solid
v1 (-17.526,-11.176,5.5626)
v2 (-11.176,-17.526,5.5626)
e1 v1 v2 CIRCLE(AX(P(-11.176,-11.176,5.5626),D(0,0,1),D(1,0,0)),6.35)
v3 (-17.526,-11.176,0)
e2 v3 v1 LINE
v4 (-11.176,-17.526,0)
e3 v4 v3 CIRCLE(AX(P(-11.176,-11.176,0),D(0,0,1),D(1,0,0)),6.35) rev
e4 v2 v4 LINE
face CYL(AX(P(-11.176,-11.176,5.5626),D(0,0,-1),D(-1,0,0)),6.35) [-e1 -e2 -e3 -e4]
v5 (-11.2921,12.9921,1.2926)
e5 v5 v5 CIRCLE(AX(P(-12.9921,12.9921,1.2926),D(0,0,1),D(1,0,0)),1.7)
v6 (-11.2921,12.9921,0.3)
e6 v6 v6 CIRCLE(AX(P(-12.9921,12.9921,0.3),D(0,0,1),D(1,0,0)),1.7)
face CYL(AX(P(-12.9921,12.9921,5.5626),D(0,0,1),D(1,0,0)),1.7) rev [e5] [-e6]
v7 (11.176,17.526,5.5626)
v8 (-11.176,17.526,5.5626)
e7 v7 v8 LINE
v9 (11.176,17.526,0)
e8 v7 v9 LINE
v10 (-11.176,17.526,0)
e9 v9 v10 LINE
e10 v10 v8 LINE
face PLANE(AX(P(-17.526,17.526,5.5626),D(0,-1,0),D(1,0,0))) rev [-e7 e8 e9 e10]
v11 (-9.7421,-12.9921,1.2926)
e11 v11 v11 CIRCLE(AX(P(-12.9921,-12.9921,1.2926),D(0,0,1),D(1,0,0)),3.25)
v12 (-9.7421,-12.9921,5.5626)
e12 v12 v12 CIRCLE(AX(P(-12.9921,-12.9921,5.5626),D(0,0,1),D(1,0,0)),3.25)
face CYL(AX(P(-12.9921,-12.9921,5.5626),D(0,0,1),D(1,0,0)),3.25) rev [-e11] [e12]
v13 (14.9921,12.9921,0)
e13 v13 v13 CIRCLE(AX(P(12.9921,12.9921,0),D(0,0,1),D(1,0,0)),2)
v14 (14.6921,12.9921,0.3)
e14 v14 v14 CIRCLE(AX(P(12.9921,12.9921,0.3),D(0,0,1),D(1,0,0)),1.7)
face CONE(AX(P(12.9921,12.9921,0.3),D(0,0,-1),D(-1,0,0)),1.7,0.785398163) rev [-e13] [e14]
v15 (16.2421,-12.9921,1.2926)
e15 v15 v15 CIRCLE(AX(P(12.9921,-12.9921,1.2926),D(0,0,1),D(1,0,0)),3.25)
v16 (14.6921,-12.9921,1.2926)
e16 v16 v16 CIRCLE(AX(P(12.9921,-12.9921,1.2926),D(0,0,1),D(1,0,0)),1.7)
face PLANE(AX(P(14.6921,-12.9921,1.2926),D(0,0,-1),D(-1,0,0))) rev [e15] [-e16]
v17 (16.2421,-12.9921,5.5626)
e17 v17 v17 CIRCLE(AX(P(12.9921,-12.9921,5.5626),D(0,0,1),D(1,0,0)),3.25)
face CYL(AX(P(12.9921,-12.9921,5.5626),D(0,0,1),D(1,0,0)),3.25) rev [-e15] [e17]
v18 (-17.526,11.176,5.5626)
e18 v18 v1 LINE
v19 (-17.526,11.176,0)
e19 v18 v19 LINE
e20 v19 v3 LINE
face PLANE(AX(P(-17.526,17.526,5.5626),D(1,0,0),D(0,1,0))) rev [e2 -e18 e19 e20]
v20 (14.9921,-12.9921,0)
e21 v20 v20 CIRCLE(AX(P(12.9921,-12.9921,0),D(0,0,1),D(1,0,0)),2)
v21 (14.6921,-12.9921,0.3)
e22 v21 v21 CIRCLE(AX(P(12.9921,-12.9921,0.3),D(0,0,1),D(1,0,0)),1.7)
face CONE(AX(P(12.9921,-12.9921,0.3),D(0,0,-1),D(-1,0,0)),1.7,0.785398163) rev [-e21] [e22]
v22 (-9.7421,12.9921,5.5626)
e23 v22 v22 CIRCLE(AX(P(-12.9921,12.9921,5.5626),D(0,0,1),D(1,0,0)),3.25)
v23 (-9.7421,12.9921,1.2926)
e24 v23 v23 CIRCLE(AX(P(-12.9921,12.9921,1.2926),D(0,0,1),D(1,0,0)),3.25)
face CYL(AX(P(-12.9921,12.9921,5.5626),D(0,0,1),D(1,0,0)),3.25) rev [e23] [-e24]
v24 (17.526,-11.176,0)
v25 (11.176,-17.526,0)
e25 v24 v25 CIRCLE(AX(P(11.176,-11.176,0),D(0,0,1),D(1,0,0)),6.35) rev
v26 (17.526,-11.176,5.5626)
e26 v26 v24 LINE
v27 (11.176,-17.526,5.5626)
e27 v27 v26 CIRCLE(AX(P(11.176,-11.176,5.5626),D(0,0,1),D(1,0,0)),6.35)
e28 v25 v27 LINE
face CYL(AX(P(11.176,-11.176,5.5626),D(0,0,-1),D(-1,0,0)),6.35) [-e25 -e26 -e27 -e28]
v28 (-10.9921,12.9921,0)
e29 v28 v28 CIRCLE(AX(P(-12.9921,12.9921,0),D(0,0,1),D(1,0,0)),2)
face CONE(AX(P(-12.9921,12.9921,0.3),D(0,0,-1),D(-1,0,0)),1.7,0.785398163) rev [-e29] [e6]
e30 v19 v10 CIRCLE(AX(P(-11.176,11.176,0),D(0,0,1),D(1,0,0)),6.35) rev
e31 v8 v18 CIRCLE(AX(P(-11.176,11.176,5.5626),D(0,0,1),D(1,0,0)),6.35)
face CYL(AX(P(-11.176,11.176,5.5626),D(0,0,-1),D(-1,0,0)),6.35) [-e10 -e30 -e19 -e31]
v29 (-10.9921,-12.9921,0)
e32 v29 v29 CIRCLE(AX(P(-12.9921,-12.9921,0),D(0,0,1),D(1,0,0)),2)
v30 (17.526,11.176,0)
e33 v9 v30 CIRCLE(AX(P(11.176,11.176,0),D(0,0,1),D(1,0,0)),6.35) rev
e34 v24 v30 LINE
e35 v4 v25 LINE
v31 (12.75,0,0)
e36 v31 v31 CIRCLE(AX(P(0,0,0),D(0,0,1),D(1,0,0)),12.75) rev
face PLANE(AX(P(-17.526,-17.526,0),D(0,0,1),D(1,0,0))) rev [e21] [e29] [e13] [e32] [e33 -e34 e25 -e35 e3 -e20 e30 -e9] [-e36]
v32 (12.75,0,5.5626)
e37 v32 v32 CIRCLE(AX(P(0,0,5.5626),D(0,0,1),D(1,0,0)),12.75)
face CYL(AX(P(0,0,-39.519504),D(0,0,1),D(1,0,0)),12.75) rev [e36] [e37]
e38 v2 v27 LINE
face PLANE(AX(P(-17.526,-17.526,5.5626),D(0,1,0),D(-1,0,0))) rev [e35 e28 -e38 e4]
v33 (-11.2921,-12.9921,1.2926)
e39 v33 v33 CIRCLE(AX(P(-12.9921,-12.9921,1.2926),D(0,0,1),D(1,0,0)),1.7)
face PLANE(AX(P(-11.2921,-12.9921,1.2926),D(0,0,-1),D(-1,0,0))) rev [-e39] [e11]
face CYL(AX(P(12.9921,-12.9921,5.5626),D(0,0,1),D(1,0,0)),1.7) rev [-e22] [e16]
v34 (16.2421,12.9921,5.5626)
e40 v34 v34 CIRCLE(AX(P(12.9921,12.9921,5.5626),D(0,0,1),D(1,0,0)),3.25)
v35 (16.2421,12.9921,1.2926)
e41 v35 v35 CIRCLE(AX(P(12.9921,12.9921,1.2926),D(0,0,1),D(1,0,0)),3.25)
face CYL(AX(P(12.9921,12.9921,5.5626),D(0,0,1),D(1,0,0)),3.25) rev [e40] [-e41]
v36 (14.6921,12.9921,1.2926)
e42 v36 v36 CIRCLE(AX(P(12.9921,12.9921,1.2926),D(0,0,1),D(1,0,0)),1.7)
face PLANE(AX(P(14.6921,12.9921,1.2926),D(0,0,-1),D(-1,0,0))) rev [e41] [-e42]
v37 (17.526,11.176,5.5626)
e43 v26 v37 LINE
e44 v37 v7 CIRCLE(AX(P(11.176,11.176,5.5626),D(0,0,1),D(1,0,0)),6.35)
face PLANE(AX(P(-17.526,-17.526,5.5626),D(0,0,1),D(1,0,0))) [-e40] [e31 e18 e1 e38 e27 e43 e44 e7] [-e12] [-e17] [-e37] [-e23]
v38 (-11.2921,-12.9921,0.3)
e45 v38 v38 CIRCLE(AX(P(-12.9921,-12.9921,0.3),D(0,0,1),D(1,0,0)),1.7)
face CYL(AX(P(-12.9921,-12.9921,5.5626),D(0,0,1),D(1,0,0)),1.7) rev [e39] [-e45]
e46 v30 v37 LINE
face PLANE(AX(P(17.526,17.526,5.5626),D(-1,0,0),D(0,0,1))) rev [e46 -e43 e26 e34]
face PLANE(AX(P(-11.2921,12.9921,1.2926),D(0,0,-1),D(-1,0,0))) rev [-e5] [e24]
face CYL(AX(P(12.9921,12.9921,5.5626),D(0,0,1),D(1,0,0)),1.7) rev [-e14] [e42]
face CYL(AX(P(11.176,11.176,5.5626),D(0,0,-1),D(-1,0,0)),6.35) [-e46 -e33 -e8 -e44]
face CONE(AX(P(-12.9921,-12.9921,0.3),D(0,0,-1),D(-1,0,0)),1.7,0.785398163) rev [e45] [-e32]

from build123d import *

# Parameters (mm, degrees)
SKETCH1_W                     = 35.052
SKETCH1_H                     = 35.052
BOSS_EXTRUDE1_DEPTH           = 5.5626
CBORE_FOR_M3_SHCS3_AT_2_COUNT = 2
CBORE_FOR_M3_SHCS3_AT_2_PITCH = 25.9842
CBORE_FOR_M3_SHCS3_AT_3_COUNT = 2
CBORE_FOR_M3_SHCS3_AT_3_PITCH = 36.747208047
CBORE_FOR_M3_SHCS3_AT_4_COUNT = 2
CBORE_FOR_M3_SHCS3_AT_4_PITCH = 25.9842
FILLET1_R                     = 6.35
CUT_EXTRUDE1_REACH            = 27.402
SKETCH4_R                     = 12.9032
CHAMFER1_SIZE                 = 0.762
CUT_EXTRUDE3_DEPTH            = 0.127
BOSS_EXTRUDE2_REACH           = 27.402
SKETCH10_R                    = 15
SKETCH10_R_2                  = 13.1
SKETCH13_W                    = 13.172247564
SKETCH13_H                    = 4
BOSS_EXTRUDE3_DEPTH           = 0.127
SKETCH14_R                    = 13.97225464
SKETCH14_R_2                  = 12.75
BOSS_EXTRUDE4_DEPTH           = 5.5626


with BuildPart() as part:
    # Sketch1 → Boss-Extrude1 (new body)
    with BuildSketch(Plane.XY):
        Rectangle(SKETCH1_W, SKETCH1_H)
    extrude(amount=BOSS_EXTRUDE1_DEPTH)

    # Sketch2 → CBORE for M3 SHCS3 (revolve, cut)
    with BuildSketch(Plane(origin=(-12.9921, 12.9921, 5.5626), x_dir=(0, -1, 0), z_dir=(1, 0, 0))):
        Polygon((0, 0), (0, 5.5626), (2, 5.5626), (1.7, 5.2626), (1.7, 4.27), (3.25, 4.27), (3.25, 0), align=None)
    cbore_for_m3_shcs3 = revolve(axis=Axis((-12.9921, 12.9921, 11.9126), (0, 0, -1)), mode=Mode.SUBTRACT)

    # CBORE for M3 SHCS3 at 2: CBORE for M3 SHCS3 ×2
    with Locations(*[(i * CBORE_FOR_M3_SHCS3_AT_2_PITCH, 0, 0) for i in range(1, CBORE_FOR_M3_SHCS3_AT_2_COUNT)]):
        add(cbore_for_m3_shcs3, mode=Mode.SUBTRACT)

    # CBORE for M3 SHCS3 at 3: CBORE for M3 SHCS3 ×2
    with Locations(*[Vector(0.7071067811865477, -0.7071067811865475, 0) * (i * CBORE_FOR_M3_SHCS3_AT_3_PITCH) for i in range(1, CBORE_FOR_M3_SHCS3_AT_3_COUNT)]):
        add(cbore_for_m3_shcs3, mode=Mode.SUBTRACT)

    # CBORE for M3 SHCS3 at 4: CBORE for M3 SHCS3 ×2
    with Locations(*[(0, -i * CBORE_FOR_M3_SHCS3_AT_4_PITCH, 0) for i in range(1, CBORE_FOR_M3_SHCS3_AT_4_COUNT)]):
        add(cbore_for_m3_shcs3, mode=Mode.SUBTRACT)

    # Fillet1
    fillet1_edges = [part.edges().sort_by_distance(p)[0] for p in [
        (-17.526, 17.526, 2.7813),
        (17.526, 17.526, 2.7813),
        (17.526, -17.526, 2.7813),
        (-17.526, -17.526, 2.7813),
    ]]
    fillet(fillet1_edges, radius=FILLET1_R)

    # Sketch4 → Cut-Extrude1 (cut, up to next)
    with BuildSketch(Plane.XY.offset(5.5626), mode=Mode.PRIVATE) as cut_extrude1_sk1:
        Circle(SKETCH4_R)
    cut_extrude1_tool1 = extrude(cut_extrude1_sk1.sketch, amount=-CUT_EXTRUDE1_REACH, mode=Mode.PRIVATE) & part.part
    add(cut_extrude1_tool1.solids().sort_by_distance((0, 0, 5.5626))[0], mode=Mode.SUBTRACT)

    # Chamfer1
    chamfer1_edges = [part.edges().sort_by_distance(p)[0] for p in [
        (-12.9032, 0, 5.5626),
        (-12.9032, 0, 0),
    ]]
    chamfer(chamfer1_edges, length=CHAMFER1_SIZE)

    # Sketch9 → Cut-Extrude3 (cut)
    # profile 1 of 6: a face of its own
    with BuildSketch(Plane.XY.offset(5.5626)):
        with BuildLine():
            Line((-6.112186903, -15.961583026), (-5.786207993, -15.961583026))
            add(Edge.make_bspline(
                [(-5.786207993, -15.961583026), (-5.782622414, -15.99085145), (-5.775734324, -16.047077667), (-5.756474536, -16.126769867), (-5.731685946, -16.198421333), (-5.700800047, -16.262983007), (-5.660170823, -16.319680798), (-5.611219596, -16.37082134), (-5.551770996, -16.415105953), (-5.484667078, -16.454516356), (-5.409932041, -16.485459756), (-5.330145724, -16.508398608), (-5.245688637, -16.521990061), (-5.187857622, -16.523742621), (-5.158328161, -16.524637507)],
                knots=[0, 0, 0, 0, 1.125557648, 2.162256852, 3.1243583, 4.018160113, 4.88511607, 5.777380551, 6.711250965, 7.707237736, 8.743031335, 9.791730543, 10.872421559, 12, 12, 12, 12], degree=3))
            add(Edge.make_bspline(
                [(-5.158328161, -16.524637507), (-5.132197131, -16.524153849), (-5.081246683, -16.523210811), (-5.007541166, -16.511882582), (-4.938184059, -16.495813793), (-4.874466172, -16.471507235), (-4.816622554, -16.441991452), (-4.766391851, -16.40629142), (-4.72350755, -16.36603159), (-4.689926033, -16.320151542), (-4.663545064, -16.272076924), (-4.644191896, -16.222661174), (-4.63266361, -16.172178574), (-4.631194607, -16.138211278), (-4.630464585, -16.121331214)],
                knots=[0, 0, 0, 0, 1.267006637, 2.470417599, 3.611360613, 4.716023143, 5.771382139, 6.754486395, 7.697536124, 8.612899418, 9.501261124, 10.352596716, 11.181322154, 12, 12, 12, 12], degree=3))
            add(Edge.make_bspline(
                [(-4.630464585, -16.121331214), (-4.631244992, -16.104622135), (-4.632770296, -16.071964264), (-4.642710283, -16.024418484), (-4.661602631, -15.980900285), (-4.686117624, -15.939633457), (-4.720222165, -15.901903883), (-4.763309404, -15.867139446), (-4.816328661, -15.835621671), (-4.855899559, -15.8183607), (-4.87680092, -15.80924345)],
                knots=[0, 0, 0, 0, 0.942140154, 1.841411588, 2.718743672, 3.605002079, 4.535543111, 5.568170452, 6.715506882, 8, 8, 8, 8], degree=3))
            add(Edge.make_bspline(
                [(-4.87680092, -15.80924345), (-4.8849444, -15.805901635), (-4.903341999, -15.798351868), (-4.93487462, -15.788357275), (-4.972292069, -15.775433247), (-5.01649327, -15.762123602), (-5.067241593, -15.748043859), (-5.124452548, -15.732107725), (-5.188094167, -15.715160518), (-5.256361463, -15.697122062), (-5.325290629, -15.678779719), (-5.391144395, -15.660420199), (-5.45173299, -15.641782934), (-5.507552716, -15.623837821), (-5.558315799, -15.605818672), (-5.604166314, -15.588218813), (-5.645161427, -15.571395321), (-5.670199682, -15.559025266), (-5.682024393, -15.553183312)],
                knots=[0, 0, 0, 0, 0.499201778, 1.127787504, 1.87543728, 2.745208432, 3.745951656, 4.863402235, 6.114490242, 7.482339553, 8.869366102, 10.161191451, 11.360587006, 12.46547846, 13.487450326, 14.41601931, 15.251940103, 16, 16, 16, 16], degree=3))
            add(Edge.make_bspline(
                [(-5.682024393, -15.553183312), (-5.709229755, -15.538486192), (-5.761743184, -15.510116925), (-5.832420443, -15.459392596), (-5.891973209, -15.403104565), (-5.94015024, -15.341334451), (-5.977904694, -15.275126936), (-6.003377459, -15.204369466), (-6.0208242, -15.130346422), (-6.022454643, -15.079443973), (-6.023283564, -15.053565068)],
                knots=[0, 0, 0, 0, 1.158441928, 2.236094408, 3.251151369, 4.220012324, 5.163146324, 6.095083285, 7.031536583, 8, 8, 8, 8], degree=3))
            add(Edge.make_bspline(
                [(-6.023283564, -15.053565068), (-6.022183421, -15.024908552), (-6.019995246, -14.967910949), (-6.000584929, -14.88427052), (-5.969625101, -14.803786179), (-5.934383416, -14.739888481), (-5.900014984, -14.691569327), (-5.871523293, -14.656770756), (-5.839564289, -14.624604156), (-5.805122199, -14.594620501), (-5.767581334, -14.567267784), (-5.727873088, -14.541421841), (-5.684560244, -14.519206633), (-5.623699257, -14.490931687), (-5.542281921, -14.462696509), (-5.439787678, -14.438093134), (-5.331915853, -14.423604717), (-5.258387882, -14.421610321), (-5.220838321, -14.420591815)],
                knots=[0, 0, 0, 0, 1.199927478, 2.386647047, 3.578628709, 4.806592355, 5.433127754, 6.062729195, 6.689531802, 7.331674828, 7.974827539, 8.635320743, 9.315455226, 10.01318112, 11.447700238, 12.918145351, 14.426146008, 16, 16, 16, 16], degree=3))
            add(Edge.make_bspline(
                [(-5.220838321, -14.420591815), (-5.179737832, -14.42153357), (-5.099707261, -14.423367348), (-4.98342058, -14.43862405), (-4.87495694, -14.464823821), (-4.789896032, -14.494151836), (-4.727011498, -14.523842472), (-4.682336574, -14.547009774), (-4.64086941, -14.573795396), (-4.602236719, -14.602781628), (-4.566079654, -14.633955234), (-4.533327533, -14.668057731), (-4.502558169, -14.703925603), (-4.466399878, -14.755420628), (-4.427413575, -14.823574004), (-4.393704609, -14.911869408), (-4.370546156, -15.005057959), (-4.366041305, -15.069481589), (-4.363754568, -15.102184082)],
                knots=[0, 0, 0, 0, 1.607600973, 3.130308851, 4.577334065, 5.967726088, 6.640410691, 7.296826776, 7.935019992, 8.569057421, 9.185393759, 9.8003086, 10.417295362, 11.032210203, 12.259799365, 13.477607022, 14.719591916, 16, 16, 16, 16], degree=3))
            Line((-4.363754568, -15.102184082), (-4.689733478, -15.102184082))
            add(Edge.make_bspline(
                [(-4.689733478, -15.102184082), (-4.6918047, -15.085632394), (-4.695857467, -15.053245647), (-4.705911845, -15.006360958), (-4.72000606, -14.962816568), (-4.736514706, -14.922206398), (-4.75652664, -14.884952836), (-4.779854764, -14.850698168), (-4.806783166, -14.819845972), (-4.83661895, -14.791581015), (-4.870270012, -14.766970127), (-4.907563443, -14.74560712), (-4.948562196, -14.727560272), (-4.993230151, -14.712779314), (-5.04157615, -14.701318738), (-5.093710159, -14.692888119), (-5.149612026, -14.688570422), (-5.18811077, -14.687732144), (-5.207873251, -14.687301832)],
                knots=[0, 0, 0, 0, 1.074487479, 2.102453544, 3.083708351, 4.020042547, 4.923259678, 5.803182661, 6.684453325, 7.556870173, 8.445961597, 9.363679789, 10.320905216, 11.327237703, 12.390948353, 13.519046902, 14.726457512, 16, 16, 16, 16], degree=3))
            add(Edge.make_bspline(
                [(-5.207873251, -14.687301832), (-5.228415428, -14.68745667), (-5.268180029, -14.687756396), (-5.325664271, -14.693220041), (-5.378944733, -14.700716355), (-5.427929899, -14.711774056), (-5.472459302, -14.726248623), (-5.513193821, -14.742963427), (-5.548993457, -14.764145449), (-5.580692763, -14.787739467), (-5.608037428, -14.813844944), (-5.63160448, -14.841353805), (-5.652447716, -14.86945782), (-5.668643371, -14.899693173), (-5.681829068, -14.930914805), (-5.690335291, -14.963709581), (-5.696357896, -14.997470882), (-5.696984707, -15.020506895), (-5.697304654, -15.03226531)],
                knots=[0, 0, 0, 0, 1.464176581, 2.834285765, 4.113735764, 5.29917439, 6.409476712, 7.449999357, 8.431575861, 9.367089851, 10.262376129, 11.120706676, 11.948504824, 12.751342953, 13.560717798, 14.359016663, 15.162382702, 16, 16, 16, 16], degree=3))
            add(Edge.make_bspline(
                [(-5.697304654, -15.03226531), (-5.696462248, -15.052152326), (-5.694827215, -15.090751192), (-5.678131139, -15.145588544), (-5.652452458, -15.195576344), (-5.627154866, -15.222774451), (-5.614420812, -15.236465167)],
                knots=[0, 0, 0, 0, 1.050964922, 2.039826012, 3.013306874, 4, 4, 4, 4], degree=3))
            add(Edge.make_bspline(
                [(-5.614420812, -15.236465167), (-5.6063934, -15.243307131), (-5.588641275, -15.258437714), (-5.55561071, -15.278461268), (-5.514657707, -15.298692517), (-5.465508627, -15.318803945), (-5.40824803, -15.339039702), (-5.342968281, -15.359874901), (-5.269420736, -15.38056815), (-5.189846754, -15.400509519), (-5.109458477, -15.420531053), (-5.033062589, -15.44047628), (-4.962918232, -15.459378867), (-4.899136695, -15.477815243), (-4.841651963, -15.495733279), (-4.790663816, -15.513508379), (-4.745759741, -15.529856963), (-4.718250689, -15.541359526), (-4.705476777, -15.546700777)],
                knots=[0, 0, 0, 0, 0.523891492, 1.158553688, 1.913783773, 2.794766643, 3.797521443, 4.933638669, 6.202080764, 7.596537849, 9.013317056, 10.322179469, 11.523240428, 12.626146501, 13.623953177, 14.517289671, 15.311498917, 16, 16, 16, 16], degree=3))
            add(Edge.make_bspline(
                [(-4.705476777, -15.546700777), (-4.688857269, -15.554363437), (-4.65623596, -15.569403956), (-4.610023508, -15.595083378), (-4.566902276, -15.621750076), (-4.527220656, -15.650122007), (-4.491106957, -15.68025885), (-4.458157386, -15.711815304), (-4.428172939, -15.744614016), (-4.402363485, -15.779704736), (-4.379189244, -15.815668939), (-4.35891024, -15.853009271), (-4.342581975, -15.891945323), (-4.328261069, -15.932007757), (-4.317960229, -15.973642185), (-4.309882294, -16.01642807), (-4.305170569, -16.060566519), (-4.304715946, -16.090451045), (-4.304485675, -16.105587914)],
                knots=[0, 0, 0, 0, 1.198900896, 2.353241543, 3.461831299, 4.520043694, 5.547003373, 6.541368882, 7.508191797, 8.454912692, 9.392021408, 10.310662301, 11.235020644, 12.156274873, 13.095836685, 14.042125239, 15.00831306, 16, 16, 16, 16], degree=3))
            add(Edge.make_bspline(
                [(-4.304485675, -16.105587914), (-4.305691996, -16.135796991), (-4.308086945, -16.195772049), (-4.328708315, -16.284178059), (-4.361103397, -16.369842989), (-4.399094656, -16.437822829), (-4.435007878, -16.489749548), (-4.465176678, -16.527072101), (-4.498632143, -16.561582488), (-4.534550634, -16.594361855), (-4.573211023, -16.624741395), (-4.614939241, -16.652731454), (-4.659294867, -16.678623404), (-4.722633585, -16.710174262), (-4.806757926, -16.743179456), (-4.913915448, -16.770665063), (-5.026846497, -16.788495656), (-5.104391927, -16.790383764), (-5.143973976, -16.791347524)],
                knots=[0, 0, 0, 0, 1.197055466, 2.376552968, 3.581957237, 4.820753935, 5.454298064, 6.085440993, 6.72202542, 7.359198513, 8.013298489, 8.67051481, 9.351020706, 10.049282741, 11.476266879, 12.925760103, 14.430794493, 16, 16, 16, 16], degree=3))
            add(Edge.make_bspline(
                [(-5.143973976, -16.791347524), (-5.169141064, -16.791139834), (-5.218439795, -16.790732998), (-5.290878774, -16.785806091), (-5.360298372, -16.778679077), (-5.426630463, -16.76806331), (-5.489667035, -16.754136), (-5.549634362, -16.737411993), (-5.606674584, -16.718150851), (-5.660588399, -16.695500082), (-5.71123507, -16.669182362), (-5.759525276, -16.640792202), (-5.804669681, -16.608610624), (-5.84676332, -16.573143314), (-5.886872755, -16.53541489), (-5.923335571, -16.493884555), (-5.95739141, -16.449766805), (-5.988262105, -16.402657858), (-6.015840371, -16.353174055), (-6.04064109, -16.302146423), (-6.061536042, -16.249204796), (-6.078375386, -16.19461674), (-6.092639162, -16.138747559), (-6.102530761, -16.081131123), (-6.109803398, -16.021948325), (-6.111387709, -15.981823645), (-6.112186903, -15.961583026)],
                knots=[0, 0, 0, 0, 1.259822038, 2.467811403, 3.633536148, 4.752793854, 5.829021491, 6.863980041, 7.868367876, 8.841470325, 9.788447787, 10.724101269, 11.643985084, 12.560193707, 13.478453146, 14.398077254, 15.323914234, 16.266973849, 17.21495974, 18.158525798, 19.105629373, 20.061269543, 21.017128399, 21.990322895, 22.986232211, 24, 24, 24, 24], degree=3))
        make_face()
    # profile 2 of 6: a face of its own
    with BuildSketch(Plane.XY.offset(5.5626)):
        with BuildLine():
            Line((-3.919237872, -16.761713078), (-3.919237872, -14.450226262))
            Line((-3.919237872, -14.450226262), (-3.428880393, -14.450226262))
            Line((-3.428880393, -14.450226262), (-2.912129734, -16.072249162))
            add(Edge.make_bspline(
                [(-2.912129734, -16.072249162), (-2.906442871, -16.090623854), (-2.895444809, -16.12615944), (-2.879135988, -16.177476097), (-2.864297695, -16.225163426), (-2.850933476, -16.269373219), (-2.838321489, -16.309885978), (-2.827401496, -16.347034138), (-2.816961628, -16.380404901), (-2.810843398, -16.401613112), (-2.807946134, -16.41165618)],
                knots=[0, 0, 0, 0, 1.300204174, 2.514519184, 3.639827924, 4.676153899, 5.636536826, 6.507959918, 7.293450077, 8, 8, 8, 8], degree=3))
            add(Edge.make_bspline(
                [(-2.807946134, -16.41165618), (-2.804719254, -16.400693293), (-2.797852247, -16.377363569), (-2.786719732, -16.340681576), (-2.774874419, -16.300088824), (-2.76069921, -16.256283035), (-2.745923232, -16.208577034), (-2.73041392, -16.157010439), (-2.712524231, -16.102098082), (-2.700635639, -16.064081412), (-2.694501769, -16.044466868)],
                knots=[0, 0, 0, 0, 0.713638162, 1.518667645, 2.393860736, 3.354087503, 4.393659122, 5.512594909, 6.716633584, 8, 8, 8, 8], degree=3))
            Line((-2.694501769, -16.044466868), (-2.182844531, -14.450226262))
            Line((-2.182844531, -14.450226262), (-1.696654395, -14.450226262))
            Line((-1.696654395, -14.450226262), (-1.696654395, -16.761713078))
            Line((-1.696654395, -16.761713078), (-2.022633305, -16.761713078))
            Line((-2.022633305, -16.761713078), (-2.022633305, -14.805839618))
            Line((-2.022633305, -14.805839618), (-2.63940022, -16.761713078))
            Line((-2.63940022, -16.761713078), (-2.980196353, -16.761713078))
            Line((-2.980196353, -16.761713078), (-3.593258962, -14.805839618))
            Line((-3.593258962, -14.805839618), (-3.593258962, -16.761713078))
            Line((-3.593258962, -16.761713078), (-3.919237872, -16.761713078))
        make_face()
    # profile 3 of 6: a face of its own
    with BuildSketch(Plane.XY.offset(5.5626)):
        with BuildLine():
            Line((-0.303835416, -16.761713078), (-0.600179879, -16.761713078))
            Line((-0.600179879, -16.761713078), (-0.600179879, -14.960494385))
            add(Edge.make_bspline(
                [(-0.600179879, -14.960494385), (-0.61724342, -14.97695007), (-0.652708119, -15.011151409), (-0.712657445, -15.059554844), (-0.779568556, -15.108613776), (-0.852572566, -15.155789425), (-0.926987804, -15.20020021), (-0.998900551, -15.240140884), (-1.067110194, -15.273940385), (-1.112040253, -15.292422086), (-1.133599914, -15.301290518)],
                knots=[0, 0, 0, 0, 0.893362401, 1.856755847, 2.901947673, 4.020460078, 5.132200827, 6.168787962, 7.121294059, 8, 8, 8, 8], degree=3))
            Line((-1.133599914, -15.301290518), (-1.133599914, -15.028097966))
            add(Edge.make_bspline(
                [(-1.133599914, -15.028097966), (-1.096568969, -15.009026955), (-1.023583168, -14.971439121), (-0.920470014, -14.906519766), (-0.824202793, -14.836144512), (-0.736375108, -14.76032894), (-0.657643185, -14.682831817), (-0.59129465, -14.604634175), (-0.535778418, -14.528602403), (-0.507924873, -14.475578674), (-0.494607164, -14.450226262)],
                knots=[0, 0, 0, 0, 1.141258006, 2.249351951, 3.335817539, 4.406819942, 5.426913362, 6.360259544, 7.215985427, 8, 8, 8, 8], degree=3))
            Line((-0.494607164, -14.450226262), (-0.303835416, -14.450226262))
            Line((-0.303835416, -14.450226262), (-0.303835416, -16.761713078))
        make_face()
    # profile 4 of 6: a face of its own
    with BuildSketch(Plane.XY.offset(5.5626)):
        Polygon((0.239308421, -16.761713078), (1.157050182, -14.450226262), (1.524702533, -14.450226262), (2.442444293, -16.761713078), (2.09655474, -16.761713078), (1.833549028, -16.050486365), (0.848203687, -16.050486365), (0.585197975, -16.761713078), align=None)
        with BuildLine():
            Line((0.94636779, -15.783776348), (1.735384925, -15.783776348))
            Line((1.735384925, -15.783776348), (1.510811386, -15.176270197))
            add(Edge.make_bspline(
                [(1.510811386, -15.176270197), (1.502202038, -15.152796988), (1.485369138, -15.106902431), (1.460266212, -15.040221513), (1.437332584, -14.976898577), (1.414844278, -14.917841583), (1.394543683, -14.862192668), (1.375832103, -14.810327716), (1.35732651, -14.762607212), (1.346221042, -14.73177485), (1.340876357, -14.716936279)],
                knots=[0, 0, 0, 0, 1.225184869, 2.395467751, 3.491410812, 4.525364584, 5.492066482, 6.394148129, 7.227157926, 8, 8, 8, 8], degree=3))
            add(Edge.make_bspline(
                [(1.340876357, -14.716936279), (1.332035217, -14.753526888), (1.314316481, -14.826858981), (1.277217762, -14.934300334), (1.234778117, -15.040759088), (1.200312067, -15.109360382), (1.182980323, -15.143857522)],
                knots=[0, 0, 0, 0, 0.9891762, 1.982431084, 2.985436691, 4, 4, 4, 4], degree=3))
            Line((1.182980323, -15.143857522), (0.94636779, -15.783776348))
        make_face(mode=Mode.SUBTRACT)
    # profile 5 of 6: a face of its own
    with BuildSketch(Plane.XY.offset(5.5626)):
        with BuildLine():
            Line((2.570705882, -16.139389704), (2.867050345, -16.109755258))
            add(Edge.make_bspline(
                [(2.867050345, -16.109755258), (2.869984621, -16.126452642), (2.875692243, -16.158931651), (2.886568747, -16.20594598), (2.900694231, -16.249623605), (2.916565767, -16.290342801), (2.935431765, -16.327673012), (2.95587323, -16.362203663), (2.97997976, -16.392709023), (3.00532454, -16.420784552), (3.033142373, -16.445524059), (3.063701679, -16.466380316), (3.096149835, -16.484576137), (3.130882047, -16.499474068), (3.167951545, -16.510378568), (3.206886534, -16.519002156), (3.248188372, -16.523347541), (3.276368335, -16.52420202), (3.290730321, -16.524637507)],
                knots=[0, 0, 0, 0, 1.237781394, 2.407677316, 3.51963579, 4.58689595, 5.594855907, 6.570874, 7.510833816, 8.428091223, 9.330271693, 10.221190844, 11.124215526, 12.043132878, 12.973586933, 13.941700858, 14.950982896, 16, 16, 16, 16], degree=3))
            add(Edge.make_bspline(
                [(3.290730321, -16.524637507), (3.30834926, -16.524211782), (3.342803862, -16.523379259), (3.392928783, -16.516338112), (3.44027583, -16.504728077), (3.484618454, -16.488480694), (3.526476489, -16.468275152), (3.564461318, -16.442112655), (3.600644083, -16.412703424), (3.632696417, -16.377641976), (3.661873045, -16.339471733), (3.687054669, -16.29780729), (3.708254039, -16.253233438), (3.726101591, -16.205758725), (3.739280706, -16.155111944), (3.748975009, -16.101562526), (3.755198365, -16.045076359), (3.755784427, -16.006359983), (3.756083736, -15.98658709)],
                knots=[0, 0, 0, 0, 1.052816602, 2.058828735, 3.018813999, 3.961574988, 4.877590722, 5.788574389, 6.712363302, 7.658909047, 8.620312049, 9.580784896, 10.562948504, 11.56722449, 12.607883026, 13.686460295, 14.818448981, 16, 16, 16, 16], degree=3))
            add(Edge.make_bspline(
                [(3.756083736, -15.98658709), (3.755743547, -15.967743781), (3.755081119, -15.931051487), (3.749502397, -15.877621407), (3.740090437, -15.827380962), (3.727912241, -15.779776415), (3.711126134, -15.735551646), (3.691216866, -15.694065438), (3.666827177, -15.656198252), (3.639692037, -15.62077104), (3.608700282, -15.589011971), (3.573433219, -15.562195461), (3.535274352, -15.538725598), (3.493455124, -15.519693004), (3.447950909, -15.505552502), (3.399213893, -15.494672658), (3.346738359, -15.488950305), (3.31065282, -15.487947117), (3.292119435, -15.487431884)],
                knots=[0, 0, 0, 0, 1.165854935, 2.270189951, 3.319242023, 4.32700288, 5.306253956, 6.24172124, 7.169108591, 8.088047231, 8.999810445, 9.905349262, 10.822648491, 11.767237767, 12.739852311, 13.766490849, 14.852878837, 16, 16, 16, 16], degree=3))
            add(Edge.make_bspline(
                [(3.292119435, -15.487431884), (3.26907407, -15.488106006), (3.224878275, -15.48939882), (3.161373463, -15.500274795), (3.103562734, -15.517843548), (3.052100617, -15.544027637), (3.00612176, -15.575308831), (2.964670974, -15.610704922), (2.927406457, -15.650191979), (2.906965352, -15.679921149), (2.896684792, -15.694873009)],
                knots=[0, 0, 0, 0, 1.182877094, 2.268490576, 3.298955169, 4.273890847, 5.221533034, 6.149304476, 7.069219215, 8, 8, 8, 8], degree=3))
            Line((2.896684792, -15.694873009), (2.600340328, -15.665238562))
            Line((2.600340328, -15.665238562), (2.837415899, -14.479860708))
            Line((2.837415899, -14.479860708), (3.933890414, -14.479860708))
            Line((3.933890414, -14.479860708), (3.933890414, -14.776205172))
            Line((3.933890414, -14.776205172), (3.07958489, -14.776205172))
            Line((3.07958489, -14.776205172), (2.961973181, -15.374913596))
            add(Edge.make_bspline(
                [(2.961973181, -15.374913596), (2.978324675, -15.362643206), (3.010436422, -15.3385461), (3.060524993, -15.306994117), (3.111329777, -15.280397899), (3.162555027, -15.258617833), (3.214607648, -15.2416512), (3.267173531, -15.229863567), (3.320431652, -15.221896791), (3.356144363, -15.221114625), (3.374077201, -15.220721867)],
                knots=[0, 0, 0, 0, 1.093835215, 2.148119334, 3.164235237, 4.159999629, 5.123971815, 6.089888814, 7.040853737, 8, 8, 8, 8], degree=3))
            add(Edge.make_bspline(
                [(3.374077201, -15.220721867), (3.397415574, -15.221333351), (3.443374489, -15.222537511), (3.511096543, -15.232431202), (3.575850218, -15.249226398), (3.638143438, -15.271847079), (3.697154793, -15.301834656), (3.753482026, -15.338143244), (3.806897724, -15.381072125), (3.857099913, -15.429811319), (3.902635295, -15.483916948), (3.943390948, -15.541624431), (3.97667794, -15.604088914), (4.004674584, -15.669679437), (4.025790253, -15.739472694), (4.041817782, -15.812478175), (4.05038717, -15.889608615), (4.051737208, -15.94211649), (4.0524282, -15.968991638)],
                knots=[0, 0, 0, 0, 0.991958705, 1.953407265, 2.902004973, 3.832128134, 4.765371166, 5.71007953, 6.676509202, 7.674246545, 8.68000108, 9.679398714, 10.671856529, 11.683459888, 12.706765812, 13.76733029, 14.85725088, 16, 16, 16, 16], degree=3))
            add(Edge.make_bspline(
                [(4.0524282, -15.968991638), (4.051903493, -15.994634947), (4.050867049, -16.0452878), (4.042373169, -16.119934142), (4.028381521, -16.191861768), (4.009650566, -16.261283678), (3.984342531, -16.32780561), (3.953646254, -16.391642433), (3.918236377, -16.453460264), (3.889839492, -16.49156739), (3.875547598, -16.51074636)],
                knots=[0, 0, 0, 0, 1.059692978, 2.093196008, 3.100373587, 4.086253034, 5.061402885, 6.037282833, 7.012182238, 8, 8, 8, 8], degree=3))
            add(Edge.make_bspline(
                [(3.875547598, -16.51074636), (3.857390147, -16.533134255), (3.821672491, -16.577173648), (3.75982776, -16.634334144), (3.693343797, -16.682912698), (3.621824948, -16.722379254), (3.545751343, -16.754093973), (3.464188437, -16.775198927), (3.378121779, -16.789371741), (3.319035348, -16.790679868), (3.288878168, -16.791347524)],
                knots=[0, 0, 0, 0, 1.023140956, 2.012628108, 2.982342558, 3.942221589, 4.908720554, 5.902469194, 6.929439212, 8, 8, 8, 8], degree=3))
            add(Edge.make_bspline(
                [(3.288878168, -16.791347524), (3.264003278, -16.790842941), (3.215343001, -16.789855875), (3.144095698, -16.781274793), (3.076331087, -16.767590992), (3.01202794, -16.747964186), (2.950992528, -16.72316388), (2.893934308, -16.691658987), (2.839863096, -16.655619351), (2.789968279, -16.613934599), (2.744507605, -16.567440075), (2.703773917, -16.517120897), (2.668318454, -16.462944254), (2.638158329, -16.405234327), (2.613021256, -16.344046462), (2.593790402, -16.278963027), (2.578557966, -16.210622592), (2.573350687, -16.163382965), (2.570705882, -16.139389704)],
                knots=[0, 0, 0, 0, 1.108768375, 2.168973506, 3.19473529, 4.187459816, 5.162590879, 6.12651078, 7.088512529, 8.056012598, 9.019588496, 9.983680353, 10.938070192, 11.90157236, 12.88306954, 13.882379887, 14.924449348, 16, 16, 16, 16], degree=3))
        make_face()
    # profile 6 of 6: a face of its own
    with BuildSketch(Plane.XY.offset(5.5626)):
        with BuildLine():
            Line((4.348772663, -16.139389704), (4.645117127, -16.109755258))
            add(Edge.make_bspline(
                [(4.645117127, -16.109755258), (4.649067754, -16.127561388), (4.656711923, -16.16201493), (4.671420239, -16.211373208), (4.68695545, -16.257188726), (4.706214361, -16.298436703), (4.725006872, -16.336804009), (4.747090918, -16.370705343), (4.77068815, -16.401025237), (4.796234802, -16.427651106), (4.824025252, -16.45057923), (4.853688993, -16.470642575), (4.885853386, -16.48739817), (4.920272171, -16.500664517), (4.956655461, -16.511403739), (4.99520098, -16.519289354), (5.03611255, -16.523986913), (5.06415411, -16.524417104), (5.078520905, -16.524637507)],
                knots=[0, 0, 0, 0, 1.321063709, 2.556160278, 3.730472002, 4.821700466, 5.852032229, 6.822994757, 7.746964065, 8.632786469, 9.490489437, 10.352773447, 11.223141997, 12.11199479, 13.021433979, 13.96892724, 14.959401504, 16, 16, 16, 16], degree=3))
            add(Edge.make_bspline(
                [(5.078520905, -16.524637507), (5.095372646, -16.524397242), (5.128284123, -16.523928004), (5.176241574, -16.516887642), (5.221881546, -16.507220555), (5.264552877, -16.492062009), (5.304849742, -16.473535464), (5.342542568, -16.450640584), (5.377889359, -16.423756265), (5.410192927, -16.392699638), (5.439081927, -16.358536359), (5.464811641, -16.322451217), (5.486086658, -16.284136308), (5.504018293, -16.24413131), (5.517254185, -16.20178976), (5.526943926, -16.157639637), (5.533276222, -16.111481274), (5.533855086, -16.079987674), (5.534150518, -16.063914474)],
                knots=[0, 0, 0, 0, 1.111377895, 2.170522867, 3.193923215, 4.186422864, 5.152846954, 6.117443035, 7.091571248, 8.078879332, 9.069127402, 10.041602243, 10.999610288, 11.957618333, 12.930786866, 13.922135183, 14.939532534, 16, 16, 16, 16], degree=3))
            add(Edge.make_bspline(
                [(5.534150518, -16.063914474), (5.533803299, -16.048618368), (5.533123993, -16.018692758), (5.527539546, -15.974768383), (5.517794811, -15.933072303), (5.504286277, -15.893363209), (5.487025145, -15.855699396), (5.466277771, -15.81976942), (5.440902033, -15.786360688), (5.412339402, -15.75511436), (5.381185904, -15.726327527), (5.347093186, -15.701840621), (5.311214834, -15.680707623), (5.273123259, -15.663643553), (5.23297662, -15.650099703), (5.190813188, -15.640365473), (5.146430251, -15.634778603), (5.116197146, -15.634099178), (5.10074674, -15.633751963)],
                knots=[0, 0, 0, 0, 1.072815875, 2.098878726, 3.09954706, 4.07199174, 5.036203424, 6.001873089, 6.97636515, 7.972747947, 8.969130744, 9.945905975, 10.911575641, 11.885646534, 12.868345115, 13.879560892, 14.916365174, 16, 16, 16, 16], degree=3))
            add(Edge.make_bspline(
                [(5.10074674, -15.633751963), (5.087143596, -15.634112353), (5.058274552, -15.634877185), (5.01270954, -15.641630361), (4.962238572, -15.651086391), (4.927361692, -15.660366082), (4.909048915, -15.665238562)],
                knots=[0, 0, 0, 0, 0.837610211, 1.777604146, 2.833088267, 4, 4, 4, 4], degree=3))
            Line((4.909048915, -15.665238562), (4.939609438, -15.398528545))
            add(Edge.make_bspline(
                [(4.939609438, -15.398528545), (4.947627804, -15.399404734), (4.961793498, -15.400952657), (4.976030627, -15.401522517), (4.982208954, -15.401769813)],
                knots=[0, 0, 0, 0, 1.132082448, 2, 2, 2, 2], degree=3))
            add(Edge.make_bspline(
                [(4.982208954, -15.401769813), (5.009462831, -15.40072927), (5.062926372, -15.398688053), (5.140865849, -15.381727246), (5.214729615, -15.355023004), (5.271794145, -15.323160968), (5.314111272, -15.293192993), (5.340795602, -15.266172612), (5.364852902, -15.23749853), (5.382801614, -15.204608319), (5.398308194, -15.169661676), (5.407910608, -15.131281959), (5.414913474, -15.090402079), (5.415375461, -15.062087564), (5.415612732, -15.047545571)],
                knots=[0, 0, 0, 0, 1.557468908, 3.055264441, 4.54122591, 6.035034992, 6.780215604, 7.498173296, 8.201377046, 8.913174237, 9.633083494, 10.382644491, 11.169345745, 12, 12, 12, 12], degree=3))
            add(Edge.make_bspline(
                [(5.415612732, -15.047545571), (5.415393749, -15.035799513), (5.414965478, -15.012827537), (5.410194353, -14.979148195), (5.402303497, -14.947235981), (5.391638221, -14.91675016), (5.377660317, -14.887850505), (5.360326619, -14.860572393), (5.340522281, -14.834362468), (5.317143961, -14.810575085), (5.292107808, -14.788242266), (5.264500857, -14.769433452), (5.235636993, -14.752724585), (5.204498252, -14.740098475), (5.171853377, -14.729717753), (5.137423315, -14.722443364), (5.1011955, -14.717558124), (5.076376842, -14.717146478), (5.063703682, -14.716936279)],
                knots=[0, 0, 0, 0, 1.041493611, 2.036867705, 3.009952345, 3.954088258, 4.897230656, 5.850851638, 6.817653571, 7.805463921, 8.805067469, 9.788883576, 10.763797054, 11.758134544, 12.762883247, 13.799594994, 14.876406454, 16, 16, 16, 16], degree=3))
            add(Edge.make_bspline(
                [(5.063703682, -14.716936279), (5.038902628, -14.717903313), (4.991008119, -14.719770799), (4.922436793, -14.737048917), (4.860298792, -14.765007161), (4.814294812, -14.797794376), (4.78162794, -14.829140808), (4.759314737, -14.855710525), (4.739356841, -14.88505124), (4.721697688, -14.917152495), (4.706575858, -14.952143391), (4.692943949, -14.989590442), (4.682391586, -15.030093176), (4.677341415, -15.058157577), (4.674751573, -15.072549635)],
                knots=[0, 0, 0, 0, 1.533565899, 2.961543033, 4.347411787, 5.731829577, 6.434842101, 7.147085226, 7.87612511, 8.629021686, 9.412189982, 10.234506416, 11.094615066, 12, 12, 12, 12], degree=3))
            Line((4.674751573, -15.072549635), (4.37840711, -15.042915189))
            add(Edge.make_bspline(
                [(4.37840711, -15.042915189), (4.383042822, -15.020001512), (4.392136136, -14.975054532), (4.410662178, -14.910138846), (4.433254457, -14.849201502), (4.460380284, -14.792521885), (4.490758149, -14.739421677), (4.525801221, -14.690530726), (4.564687914, -14.645558369), (4.6074873, -14.60464178), (4.653618353, -14.56809869), (4.702848724, -14.536575479), (4.754774398, -14.509855015), (4.809443989, -14.488313594), (4.866814213, -14.470797155), (4.927048285, -14.45919247), (4.989873565, -14.451342486), (5.03265502, -14.450602914), (5.054442917, -14.450226262)],
                knots=[0, 0, 0, 0, 1.136581168, 2.229493434, 3.279335563, 4.293305329, 5.282068175, 6.250623624, 7.213783178, 8.169396253, 9.125981663, 10.071280146, 11.007896369, 11.961295906, 12.925420184, 13.920544621, 14.940967302, 16, 16, 16, 16], degree=3))
            add(Edge.make_bspline(
                [(5.054442917, -14.450226262), (5.084602554, -14.451204264), (5.14390615, -14.453127334), (5.231009313, -14.468400586), (5.314323029, -14.493464297), (5.39317688, -14.52820707), (5.466214225, -14.570661822), (5.530846256, -14.621541257), (5.586208929, -14.679965172), (5.631226948, -14.745294823), (5.666874903, -14.814851379), (5.693253318, -14.887054101), (5.709014817, -14.961819872), (5.710974409, -15.012436281), (5.711957196, -15.037821768)],
                knots=[0, 0, 0, 0, 1.104647871, 2.172094857, 3.229560912, 4.285649672, 5.322588163, 6.317201348, 7.289435229, 8.260615662, 9.214246199, 10.146367077, 11.070353327, 12, 12, 12, 12], degree=3))
            add(Edge.make_bspline(
                [(5.711957196, -15.037821768), (5.710960846, -15.061818592), (5.7089936, -15.10919917), (5.693848133, -15.178477969), (5.668255306, -15.24411184), (5.633663413, -15.306331065), (5.588806216, -15.3637901), (5.533806923, -15.414991338), (5.469545379, -15.460424697), (5.421386787, -15.484072258), (5.396628165, -15.496229611)],
                knots=[0, 0, 0, 0, 0.975609618, 1.926294443, 2.868398979, 3.832526731, 4.812148358, 5.820404151, 6.879456693, 8, 8, 8, 8], degree=3))
            add(Edge.make_bspline(
                [(5.396628165, -15.496229611), (5.413227169, -15.500420531), (5.445739772, -15.50862932), (5.492435244, -15.525637699), (5.536334229, -15.545550232), (5.578020996, -15.56810352), (5.616285299, -15.594776438), (5.652446075, -15.62394025), (5.685136362, -15.656999506), (5.715303257, -15.692775915), (5.742751428, -15.73089507), (5.765849333, -15.772098476), (5.785782153, -15.815302968), (5.802778968, -15.860821905), (5.81499284, -15.909006273), (5.823726145, -15.959482788), (5.829489413, -16.012076077), (5.830156507, -16.048001545), (5.830494982, -16.066229665)],
                knots=[0, 0, 0, 0, 1.053251915, 2.063013066, 3.05373318, 4.018979697, 4.975584284, 5.920798056, 6.874756953, 7.832116109, 8.799604348, 9.761196922, 10.734637845, 11.72654167, 12.747371341, 13.789206138, 14.878271633, 16, 16, 16, 16], degree=3))
            add(Edge.make_bspline(
                [(5.830494982, -16.066229665), (5.82993096, -16.091115433), (5.828822478, -16.140023954), (5.818314029, -16.211871684), (5.801140866, -16.280711469), (5.77737551, -16.346777075), (5.747261045, -16.410338128), (5.709472357, -16.470497673), (5.665129419, -16.527744726), (5.61492547, -16.581531168), (5.559922238, -16.630962564), (5.500190833, -16.673765426), (5.436913035, -16.710114291), (5.369985872, -16.739756611), (5.299586763, -16.763045225), (5.225645678, -16.779739247), (5.147933807, -16.789550496), (5.094909831, -16.790740632), (5.067871026, -16.791347524)],
                knots=[0, 0, 0, 0, 1.016055063, 1.996874249, 2.958724482, 3.910019225, 4.860394196, 5.826121543, 6.806008102, 7.814207964, 8.82789325, 9.821757317, 10.810247154, 11.803791187, 12.806673825, 13.834534493, 14.895752369, 16, 16, 16, 16], degree=3))
            add(Edge.make_bspline(
                [(5.067871026, -16.791347524), (5.043605942, -16.790890469), (4.995836237, -16.789990681), (4.925911252, -16.780616432), (4.858919482, -16.767313295), (4.795390659, -16.746804911), (4.734586841, -16.721795268), (4.677537822, -16.689799202), (4.62321782, -16.653068959), (4.572646622, -16.610555145), (4.526105079, -16.563631008), (4.484584456, -16.512990595), (4.448930414, -16.458746343), (4.417494387, -16.40170985), (4.392085948, -16.340805949), (4.372301455, -16.276557541), (4.357215513, -16.209203069), (4.351617567, -16.162914028), (4.348772663, -16.139389704)],
                knots=[0, 0, 0, 0, 1.08471039, 2.135426191, 3.150939737, 4.135689946, 5.116584603, 6.086901885, 7.055842759, 8.045878862, 9.036901429, 10.008421467, 10.96965771, 11.936653536, 12.917548193, 13.915472582, 14.940632654, 16, 16, 16, 16], degree=3))
        make_face()
    extrude(amount=-CUT_EXTRUDE3_DEPTH, mode=Mode.SUBTRACT)

    # Boss-Extrude2: up to this face of the body (flat: up to its plane)
    boss_extrude2_end = Plane(part.part.faces().sort_by_distance((0, 17.030289859, 5.5626))[0])
    # Sketch10 → Boss-Extrude2 (add, up to the picked face)
    with BuildSketch(Plane(origin=(0, 0, 0), x_dir=(-1, 0, 0), z_dir=(0, 0, -1)), mode=Mode.PRIVATE) as boss_extrude2_sk1:
        Circle(SKETCH10_R)
        with Locations(Location((0, 0, 0), (0, 0, 180))):
            Circle(SKETCH10_R_2, mode=Mode.SUBTRACT)
    boss_extrude2_tool1 = split(extrude(boss_extrude2_sk1.sketch, amount=-BOSS_EXTRUDE2_REACH, mode=Mode.PRIVATE), bisect_by=boss_extrude2_end, keep=Keep.BOTH, mode=Mode.PRIVATE)
    add(boss_extrude2_tool1.solids().sort_by(Axis((14.575736, 0, 0), (0, 0, 1)))[0])

    # Sketch13 → Boss-Extrude3 (add)
    with BuildSketch(Plane.XY.offset(5.5626)):
        with Locations((-0.302464428, -15.526)):
            Rectangle(SKETCH13_W, SKETCH13_H)
    extrude(amount=-BOSS_EXTRUDE3_DEPTH)

    # Sketch14 → Boss-Extrude4 (add)
    with BuildSketch(Plane.XY.offset(5.5626)):
        Circle(SKETCH14_R)
        Circle(SKETCH14_R_2, mode=Mode.SUBTRACT)
    extrude(amount=-BOSS_EXTRUDE4_DEPTH)


solid = part.part
